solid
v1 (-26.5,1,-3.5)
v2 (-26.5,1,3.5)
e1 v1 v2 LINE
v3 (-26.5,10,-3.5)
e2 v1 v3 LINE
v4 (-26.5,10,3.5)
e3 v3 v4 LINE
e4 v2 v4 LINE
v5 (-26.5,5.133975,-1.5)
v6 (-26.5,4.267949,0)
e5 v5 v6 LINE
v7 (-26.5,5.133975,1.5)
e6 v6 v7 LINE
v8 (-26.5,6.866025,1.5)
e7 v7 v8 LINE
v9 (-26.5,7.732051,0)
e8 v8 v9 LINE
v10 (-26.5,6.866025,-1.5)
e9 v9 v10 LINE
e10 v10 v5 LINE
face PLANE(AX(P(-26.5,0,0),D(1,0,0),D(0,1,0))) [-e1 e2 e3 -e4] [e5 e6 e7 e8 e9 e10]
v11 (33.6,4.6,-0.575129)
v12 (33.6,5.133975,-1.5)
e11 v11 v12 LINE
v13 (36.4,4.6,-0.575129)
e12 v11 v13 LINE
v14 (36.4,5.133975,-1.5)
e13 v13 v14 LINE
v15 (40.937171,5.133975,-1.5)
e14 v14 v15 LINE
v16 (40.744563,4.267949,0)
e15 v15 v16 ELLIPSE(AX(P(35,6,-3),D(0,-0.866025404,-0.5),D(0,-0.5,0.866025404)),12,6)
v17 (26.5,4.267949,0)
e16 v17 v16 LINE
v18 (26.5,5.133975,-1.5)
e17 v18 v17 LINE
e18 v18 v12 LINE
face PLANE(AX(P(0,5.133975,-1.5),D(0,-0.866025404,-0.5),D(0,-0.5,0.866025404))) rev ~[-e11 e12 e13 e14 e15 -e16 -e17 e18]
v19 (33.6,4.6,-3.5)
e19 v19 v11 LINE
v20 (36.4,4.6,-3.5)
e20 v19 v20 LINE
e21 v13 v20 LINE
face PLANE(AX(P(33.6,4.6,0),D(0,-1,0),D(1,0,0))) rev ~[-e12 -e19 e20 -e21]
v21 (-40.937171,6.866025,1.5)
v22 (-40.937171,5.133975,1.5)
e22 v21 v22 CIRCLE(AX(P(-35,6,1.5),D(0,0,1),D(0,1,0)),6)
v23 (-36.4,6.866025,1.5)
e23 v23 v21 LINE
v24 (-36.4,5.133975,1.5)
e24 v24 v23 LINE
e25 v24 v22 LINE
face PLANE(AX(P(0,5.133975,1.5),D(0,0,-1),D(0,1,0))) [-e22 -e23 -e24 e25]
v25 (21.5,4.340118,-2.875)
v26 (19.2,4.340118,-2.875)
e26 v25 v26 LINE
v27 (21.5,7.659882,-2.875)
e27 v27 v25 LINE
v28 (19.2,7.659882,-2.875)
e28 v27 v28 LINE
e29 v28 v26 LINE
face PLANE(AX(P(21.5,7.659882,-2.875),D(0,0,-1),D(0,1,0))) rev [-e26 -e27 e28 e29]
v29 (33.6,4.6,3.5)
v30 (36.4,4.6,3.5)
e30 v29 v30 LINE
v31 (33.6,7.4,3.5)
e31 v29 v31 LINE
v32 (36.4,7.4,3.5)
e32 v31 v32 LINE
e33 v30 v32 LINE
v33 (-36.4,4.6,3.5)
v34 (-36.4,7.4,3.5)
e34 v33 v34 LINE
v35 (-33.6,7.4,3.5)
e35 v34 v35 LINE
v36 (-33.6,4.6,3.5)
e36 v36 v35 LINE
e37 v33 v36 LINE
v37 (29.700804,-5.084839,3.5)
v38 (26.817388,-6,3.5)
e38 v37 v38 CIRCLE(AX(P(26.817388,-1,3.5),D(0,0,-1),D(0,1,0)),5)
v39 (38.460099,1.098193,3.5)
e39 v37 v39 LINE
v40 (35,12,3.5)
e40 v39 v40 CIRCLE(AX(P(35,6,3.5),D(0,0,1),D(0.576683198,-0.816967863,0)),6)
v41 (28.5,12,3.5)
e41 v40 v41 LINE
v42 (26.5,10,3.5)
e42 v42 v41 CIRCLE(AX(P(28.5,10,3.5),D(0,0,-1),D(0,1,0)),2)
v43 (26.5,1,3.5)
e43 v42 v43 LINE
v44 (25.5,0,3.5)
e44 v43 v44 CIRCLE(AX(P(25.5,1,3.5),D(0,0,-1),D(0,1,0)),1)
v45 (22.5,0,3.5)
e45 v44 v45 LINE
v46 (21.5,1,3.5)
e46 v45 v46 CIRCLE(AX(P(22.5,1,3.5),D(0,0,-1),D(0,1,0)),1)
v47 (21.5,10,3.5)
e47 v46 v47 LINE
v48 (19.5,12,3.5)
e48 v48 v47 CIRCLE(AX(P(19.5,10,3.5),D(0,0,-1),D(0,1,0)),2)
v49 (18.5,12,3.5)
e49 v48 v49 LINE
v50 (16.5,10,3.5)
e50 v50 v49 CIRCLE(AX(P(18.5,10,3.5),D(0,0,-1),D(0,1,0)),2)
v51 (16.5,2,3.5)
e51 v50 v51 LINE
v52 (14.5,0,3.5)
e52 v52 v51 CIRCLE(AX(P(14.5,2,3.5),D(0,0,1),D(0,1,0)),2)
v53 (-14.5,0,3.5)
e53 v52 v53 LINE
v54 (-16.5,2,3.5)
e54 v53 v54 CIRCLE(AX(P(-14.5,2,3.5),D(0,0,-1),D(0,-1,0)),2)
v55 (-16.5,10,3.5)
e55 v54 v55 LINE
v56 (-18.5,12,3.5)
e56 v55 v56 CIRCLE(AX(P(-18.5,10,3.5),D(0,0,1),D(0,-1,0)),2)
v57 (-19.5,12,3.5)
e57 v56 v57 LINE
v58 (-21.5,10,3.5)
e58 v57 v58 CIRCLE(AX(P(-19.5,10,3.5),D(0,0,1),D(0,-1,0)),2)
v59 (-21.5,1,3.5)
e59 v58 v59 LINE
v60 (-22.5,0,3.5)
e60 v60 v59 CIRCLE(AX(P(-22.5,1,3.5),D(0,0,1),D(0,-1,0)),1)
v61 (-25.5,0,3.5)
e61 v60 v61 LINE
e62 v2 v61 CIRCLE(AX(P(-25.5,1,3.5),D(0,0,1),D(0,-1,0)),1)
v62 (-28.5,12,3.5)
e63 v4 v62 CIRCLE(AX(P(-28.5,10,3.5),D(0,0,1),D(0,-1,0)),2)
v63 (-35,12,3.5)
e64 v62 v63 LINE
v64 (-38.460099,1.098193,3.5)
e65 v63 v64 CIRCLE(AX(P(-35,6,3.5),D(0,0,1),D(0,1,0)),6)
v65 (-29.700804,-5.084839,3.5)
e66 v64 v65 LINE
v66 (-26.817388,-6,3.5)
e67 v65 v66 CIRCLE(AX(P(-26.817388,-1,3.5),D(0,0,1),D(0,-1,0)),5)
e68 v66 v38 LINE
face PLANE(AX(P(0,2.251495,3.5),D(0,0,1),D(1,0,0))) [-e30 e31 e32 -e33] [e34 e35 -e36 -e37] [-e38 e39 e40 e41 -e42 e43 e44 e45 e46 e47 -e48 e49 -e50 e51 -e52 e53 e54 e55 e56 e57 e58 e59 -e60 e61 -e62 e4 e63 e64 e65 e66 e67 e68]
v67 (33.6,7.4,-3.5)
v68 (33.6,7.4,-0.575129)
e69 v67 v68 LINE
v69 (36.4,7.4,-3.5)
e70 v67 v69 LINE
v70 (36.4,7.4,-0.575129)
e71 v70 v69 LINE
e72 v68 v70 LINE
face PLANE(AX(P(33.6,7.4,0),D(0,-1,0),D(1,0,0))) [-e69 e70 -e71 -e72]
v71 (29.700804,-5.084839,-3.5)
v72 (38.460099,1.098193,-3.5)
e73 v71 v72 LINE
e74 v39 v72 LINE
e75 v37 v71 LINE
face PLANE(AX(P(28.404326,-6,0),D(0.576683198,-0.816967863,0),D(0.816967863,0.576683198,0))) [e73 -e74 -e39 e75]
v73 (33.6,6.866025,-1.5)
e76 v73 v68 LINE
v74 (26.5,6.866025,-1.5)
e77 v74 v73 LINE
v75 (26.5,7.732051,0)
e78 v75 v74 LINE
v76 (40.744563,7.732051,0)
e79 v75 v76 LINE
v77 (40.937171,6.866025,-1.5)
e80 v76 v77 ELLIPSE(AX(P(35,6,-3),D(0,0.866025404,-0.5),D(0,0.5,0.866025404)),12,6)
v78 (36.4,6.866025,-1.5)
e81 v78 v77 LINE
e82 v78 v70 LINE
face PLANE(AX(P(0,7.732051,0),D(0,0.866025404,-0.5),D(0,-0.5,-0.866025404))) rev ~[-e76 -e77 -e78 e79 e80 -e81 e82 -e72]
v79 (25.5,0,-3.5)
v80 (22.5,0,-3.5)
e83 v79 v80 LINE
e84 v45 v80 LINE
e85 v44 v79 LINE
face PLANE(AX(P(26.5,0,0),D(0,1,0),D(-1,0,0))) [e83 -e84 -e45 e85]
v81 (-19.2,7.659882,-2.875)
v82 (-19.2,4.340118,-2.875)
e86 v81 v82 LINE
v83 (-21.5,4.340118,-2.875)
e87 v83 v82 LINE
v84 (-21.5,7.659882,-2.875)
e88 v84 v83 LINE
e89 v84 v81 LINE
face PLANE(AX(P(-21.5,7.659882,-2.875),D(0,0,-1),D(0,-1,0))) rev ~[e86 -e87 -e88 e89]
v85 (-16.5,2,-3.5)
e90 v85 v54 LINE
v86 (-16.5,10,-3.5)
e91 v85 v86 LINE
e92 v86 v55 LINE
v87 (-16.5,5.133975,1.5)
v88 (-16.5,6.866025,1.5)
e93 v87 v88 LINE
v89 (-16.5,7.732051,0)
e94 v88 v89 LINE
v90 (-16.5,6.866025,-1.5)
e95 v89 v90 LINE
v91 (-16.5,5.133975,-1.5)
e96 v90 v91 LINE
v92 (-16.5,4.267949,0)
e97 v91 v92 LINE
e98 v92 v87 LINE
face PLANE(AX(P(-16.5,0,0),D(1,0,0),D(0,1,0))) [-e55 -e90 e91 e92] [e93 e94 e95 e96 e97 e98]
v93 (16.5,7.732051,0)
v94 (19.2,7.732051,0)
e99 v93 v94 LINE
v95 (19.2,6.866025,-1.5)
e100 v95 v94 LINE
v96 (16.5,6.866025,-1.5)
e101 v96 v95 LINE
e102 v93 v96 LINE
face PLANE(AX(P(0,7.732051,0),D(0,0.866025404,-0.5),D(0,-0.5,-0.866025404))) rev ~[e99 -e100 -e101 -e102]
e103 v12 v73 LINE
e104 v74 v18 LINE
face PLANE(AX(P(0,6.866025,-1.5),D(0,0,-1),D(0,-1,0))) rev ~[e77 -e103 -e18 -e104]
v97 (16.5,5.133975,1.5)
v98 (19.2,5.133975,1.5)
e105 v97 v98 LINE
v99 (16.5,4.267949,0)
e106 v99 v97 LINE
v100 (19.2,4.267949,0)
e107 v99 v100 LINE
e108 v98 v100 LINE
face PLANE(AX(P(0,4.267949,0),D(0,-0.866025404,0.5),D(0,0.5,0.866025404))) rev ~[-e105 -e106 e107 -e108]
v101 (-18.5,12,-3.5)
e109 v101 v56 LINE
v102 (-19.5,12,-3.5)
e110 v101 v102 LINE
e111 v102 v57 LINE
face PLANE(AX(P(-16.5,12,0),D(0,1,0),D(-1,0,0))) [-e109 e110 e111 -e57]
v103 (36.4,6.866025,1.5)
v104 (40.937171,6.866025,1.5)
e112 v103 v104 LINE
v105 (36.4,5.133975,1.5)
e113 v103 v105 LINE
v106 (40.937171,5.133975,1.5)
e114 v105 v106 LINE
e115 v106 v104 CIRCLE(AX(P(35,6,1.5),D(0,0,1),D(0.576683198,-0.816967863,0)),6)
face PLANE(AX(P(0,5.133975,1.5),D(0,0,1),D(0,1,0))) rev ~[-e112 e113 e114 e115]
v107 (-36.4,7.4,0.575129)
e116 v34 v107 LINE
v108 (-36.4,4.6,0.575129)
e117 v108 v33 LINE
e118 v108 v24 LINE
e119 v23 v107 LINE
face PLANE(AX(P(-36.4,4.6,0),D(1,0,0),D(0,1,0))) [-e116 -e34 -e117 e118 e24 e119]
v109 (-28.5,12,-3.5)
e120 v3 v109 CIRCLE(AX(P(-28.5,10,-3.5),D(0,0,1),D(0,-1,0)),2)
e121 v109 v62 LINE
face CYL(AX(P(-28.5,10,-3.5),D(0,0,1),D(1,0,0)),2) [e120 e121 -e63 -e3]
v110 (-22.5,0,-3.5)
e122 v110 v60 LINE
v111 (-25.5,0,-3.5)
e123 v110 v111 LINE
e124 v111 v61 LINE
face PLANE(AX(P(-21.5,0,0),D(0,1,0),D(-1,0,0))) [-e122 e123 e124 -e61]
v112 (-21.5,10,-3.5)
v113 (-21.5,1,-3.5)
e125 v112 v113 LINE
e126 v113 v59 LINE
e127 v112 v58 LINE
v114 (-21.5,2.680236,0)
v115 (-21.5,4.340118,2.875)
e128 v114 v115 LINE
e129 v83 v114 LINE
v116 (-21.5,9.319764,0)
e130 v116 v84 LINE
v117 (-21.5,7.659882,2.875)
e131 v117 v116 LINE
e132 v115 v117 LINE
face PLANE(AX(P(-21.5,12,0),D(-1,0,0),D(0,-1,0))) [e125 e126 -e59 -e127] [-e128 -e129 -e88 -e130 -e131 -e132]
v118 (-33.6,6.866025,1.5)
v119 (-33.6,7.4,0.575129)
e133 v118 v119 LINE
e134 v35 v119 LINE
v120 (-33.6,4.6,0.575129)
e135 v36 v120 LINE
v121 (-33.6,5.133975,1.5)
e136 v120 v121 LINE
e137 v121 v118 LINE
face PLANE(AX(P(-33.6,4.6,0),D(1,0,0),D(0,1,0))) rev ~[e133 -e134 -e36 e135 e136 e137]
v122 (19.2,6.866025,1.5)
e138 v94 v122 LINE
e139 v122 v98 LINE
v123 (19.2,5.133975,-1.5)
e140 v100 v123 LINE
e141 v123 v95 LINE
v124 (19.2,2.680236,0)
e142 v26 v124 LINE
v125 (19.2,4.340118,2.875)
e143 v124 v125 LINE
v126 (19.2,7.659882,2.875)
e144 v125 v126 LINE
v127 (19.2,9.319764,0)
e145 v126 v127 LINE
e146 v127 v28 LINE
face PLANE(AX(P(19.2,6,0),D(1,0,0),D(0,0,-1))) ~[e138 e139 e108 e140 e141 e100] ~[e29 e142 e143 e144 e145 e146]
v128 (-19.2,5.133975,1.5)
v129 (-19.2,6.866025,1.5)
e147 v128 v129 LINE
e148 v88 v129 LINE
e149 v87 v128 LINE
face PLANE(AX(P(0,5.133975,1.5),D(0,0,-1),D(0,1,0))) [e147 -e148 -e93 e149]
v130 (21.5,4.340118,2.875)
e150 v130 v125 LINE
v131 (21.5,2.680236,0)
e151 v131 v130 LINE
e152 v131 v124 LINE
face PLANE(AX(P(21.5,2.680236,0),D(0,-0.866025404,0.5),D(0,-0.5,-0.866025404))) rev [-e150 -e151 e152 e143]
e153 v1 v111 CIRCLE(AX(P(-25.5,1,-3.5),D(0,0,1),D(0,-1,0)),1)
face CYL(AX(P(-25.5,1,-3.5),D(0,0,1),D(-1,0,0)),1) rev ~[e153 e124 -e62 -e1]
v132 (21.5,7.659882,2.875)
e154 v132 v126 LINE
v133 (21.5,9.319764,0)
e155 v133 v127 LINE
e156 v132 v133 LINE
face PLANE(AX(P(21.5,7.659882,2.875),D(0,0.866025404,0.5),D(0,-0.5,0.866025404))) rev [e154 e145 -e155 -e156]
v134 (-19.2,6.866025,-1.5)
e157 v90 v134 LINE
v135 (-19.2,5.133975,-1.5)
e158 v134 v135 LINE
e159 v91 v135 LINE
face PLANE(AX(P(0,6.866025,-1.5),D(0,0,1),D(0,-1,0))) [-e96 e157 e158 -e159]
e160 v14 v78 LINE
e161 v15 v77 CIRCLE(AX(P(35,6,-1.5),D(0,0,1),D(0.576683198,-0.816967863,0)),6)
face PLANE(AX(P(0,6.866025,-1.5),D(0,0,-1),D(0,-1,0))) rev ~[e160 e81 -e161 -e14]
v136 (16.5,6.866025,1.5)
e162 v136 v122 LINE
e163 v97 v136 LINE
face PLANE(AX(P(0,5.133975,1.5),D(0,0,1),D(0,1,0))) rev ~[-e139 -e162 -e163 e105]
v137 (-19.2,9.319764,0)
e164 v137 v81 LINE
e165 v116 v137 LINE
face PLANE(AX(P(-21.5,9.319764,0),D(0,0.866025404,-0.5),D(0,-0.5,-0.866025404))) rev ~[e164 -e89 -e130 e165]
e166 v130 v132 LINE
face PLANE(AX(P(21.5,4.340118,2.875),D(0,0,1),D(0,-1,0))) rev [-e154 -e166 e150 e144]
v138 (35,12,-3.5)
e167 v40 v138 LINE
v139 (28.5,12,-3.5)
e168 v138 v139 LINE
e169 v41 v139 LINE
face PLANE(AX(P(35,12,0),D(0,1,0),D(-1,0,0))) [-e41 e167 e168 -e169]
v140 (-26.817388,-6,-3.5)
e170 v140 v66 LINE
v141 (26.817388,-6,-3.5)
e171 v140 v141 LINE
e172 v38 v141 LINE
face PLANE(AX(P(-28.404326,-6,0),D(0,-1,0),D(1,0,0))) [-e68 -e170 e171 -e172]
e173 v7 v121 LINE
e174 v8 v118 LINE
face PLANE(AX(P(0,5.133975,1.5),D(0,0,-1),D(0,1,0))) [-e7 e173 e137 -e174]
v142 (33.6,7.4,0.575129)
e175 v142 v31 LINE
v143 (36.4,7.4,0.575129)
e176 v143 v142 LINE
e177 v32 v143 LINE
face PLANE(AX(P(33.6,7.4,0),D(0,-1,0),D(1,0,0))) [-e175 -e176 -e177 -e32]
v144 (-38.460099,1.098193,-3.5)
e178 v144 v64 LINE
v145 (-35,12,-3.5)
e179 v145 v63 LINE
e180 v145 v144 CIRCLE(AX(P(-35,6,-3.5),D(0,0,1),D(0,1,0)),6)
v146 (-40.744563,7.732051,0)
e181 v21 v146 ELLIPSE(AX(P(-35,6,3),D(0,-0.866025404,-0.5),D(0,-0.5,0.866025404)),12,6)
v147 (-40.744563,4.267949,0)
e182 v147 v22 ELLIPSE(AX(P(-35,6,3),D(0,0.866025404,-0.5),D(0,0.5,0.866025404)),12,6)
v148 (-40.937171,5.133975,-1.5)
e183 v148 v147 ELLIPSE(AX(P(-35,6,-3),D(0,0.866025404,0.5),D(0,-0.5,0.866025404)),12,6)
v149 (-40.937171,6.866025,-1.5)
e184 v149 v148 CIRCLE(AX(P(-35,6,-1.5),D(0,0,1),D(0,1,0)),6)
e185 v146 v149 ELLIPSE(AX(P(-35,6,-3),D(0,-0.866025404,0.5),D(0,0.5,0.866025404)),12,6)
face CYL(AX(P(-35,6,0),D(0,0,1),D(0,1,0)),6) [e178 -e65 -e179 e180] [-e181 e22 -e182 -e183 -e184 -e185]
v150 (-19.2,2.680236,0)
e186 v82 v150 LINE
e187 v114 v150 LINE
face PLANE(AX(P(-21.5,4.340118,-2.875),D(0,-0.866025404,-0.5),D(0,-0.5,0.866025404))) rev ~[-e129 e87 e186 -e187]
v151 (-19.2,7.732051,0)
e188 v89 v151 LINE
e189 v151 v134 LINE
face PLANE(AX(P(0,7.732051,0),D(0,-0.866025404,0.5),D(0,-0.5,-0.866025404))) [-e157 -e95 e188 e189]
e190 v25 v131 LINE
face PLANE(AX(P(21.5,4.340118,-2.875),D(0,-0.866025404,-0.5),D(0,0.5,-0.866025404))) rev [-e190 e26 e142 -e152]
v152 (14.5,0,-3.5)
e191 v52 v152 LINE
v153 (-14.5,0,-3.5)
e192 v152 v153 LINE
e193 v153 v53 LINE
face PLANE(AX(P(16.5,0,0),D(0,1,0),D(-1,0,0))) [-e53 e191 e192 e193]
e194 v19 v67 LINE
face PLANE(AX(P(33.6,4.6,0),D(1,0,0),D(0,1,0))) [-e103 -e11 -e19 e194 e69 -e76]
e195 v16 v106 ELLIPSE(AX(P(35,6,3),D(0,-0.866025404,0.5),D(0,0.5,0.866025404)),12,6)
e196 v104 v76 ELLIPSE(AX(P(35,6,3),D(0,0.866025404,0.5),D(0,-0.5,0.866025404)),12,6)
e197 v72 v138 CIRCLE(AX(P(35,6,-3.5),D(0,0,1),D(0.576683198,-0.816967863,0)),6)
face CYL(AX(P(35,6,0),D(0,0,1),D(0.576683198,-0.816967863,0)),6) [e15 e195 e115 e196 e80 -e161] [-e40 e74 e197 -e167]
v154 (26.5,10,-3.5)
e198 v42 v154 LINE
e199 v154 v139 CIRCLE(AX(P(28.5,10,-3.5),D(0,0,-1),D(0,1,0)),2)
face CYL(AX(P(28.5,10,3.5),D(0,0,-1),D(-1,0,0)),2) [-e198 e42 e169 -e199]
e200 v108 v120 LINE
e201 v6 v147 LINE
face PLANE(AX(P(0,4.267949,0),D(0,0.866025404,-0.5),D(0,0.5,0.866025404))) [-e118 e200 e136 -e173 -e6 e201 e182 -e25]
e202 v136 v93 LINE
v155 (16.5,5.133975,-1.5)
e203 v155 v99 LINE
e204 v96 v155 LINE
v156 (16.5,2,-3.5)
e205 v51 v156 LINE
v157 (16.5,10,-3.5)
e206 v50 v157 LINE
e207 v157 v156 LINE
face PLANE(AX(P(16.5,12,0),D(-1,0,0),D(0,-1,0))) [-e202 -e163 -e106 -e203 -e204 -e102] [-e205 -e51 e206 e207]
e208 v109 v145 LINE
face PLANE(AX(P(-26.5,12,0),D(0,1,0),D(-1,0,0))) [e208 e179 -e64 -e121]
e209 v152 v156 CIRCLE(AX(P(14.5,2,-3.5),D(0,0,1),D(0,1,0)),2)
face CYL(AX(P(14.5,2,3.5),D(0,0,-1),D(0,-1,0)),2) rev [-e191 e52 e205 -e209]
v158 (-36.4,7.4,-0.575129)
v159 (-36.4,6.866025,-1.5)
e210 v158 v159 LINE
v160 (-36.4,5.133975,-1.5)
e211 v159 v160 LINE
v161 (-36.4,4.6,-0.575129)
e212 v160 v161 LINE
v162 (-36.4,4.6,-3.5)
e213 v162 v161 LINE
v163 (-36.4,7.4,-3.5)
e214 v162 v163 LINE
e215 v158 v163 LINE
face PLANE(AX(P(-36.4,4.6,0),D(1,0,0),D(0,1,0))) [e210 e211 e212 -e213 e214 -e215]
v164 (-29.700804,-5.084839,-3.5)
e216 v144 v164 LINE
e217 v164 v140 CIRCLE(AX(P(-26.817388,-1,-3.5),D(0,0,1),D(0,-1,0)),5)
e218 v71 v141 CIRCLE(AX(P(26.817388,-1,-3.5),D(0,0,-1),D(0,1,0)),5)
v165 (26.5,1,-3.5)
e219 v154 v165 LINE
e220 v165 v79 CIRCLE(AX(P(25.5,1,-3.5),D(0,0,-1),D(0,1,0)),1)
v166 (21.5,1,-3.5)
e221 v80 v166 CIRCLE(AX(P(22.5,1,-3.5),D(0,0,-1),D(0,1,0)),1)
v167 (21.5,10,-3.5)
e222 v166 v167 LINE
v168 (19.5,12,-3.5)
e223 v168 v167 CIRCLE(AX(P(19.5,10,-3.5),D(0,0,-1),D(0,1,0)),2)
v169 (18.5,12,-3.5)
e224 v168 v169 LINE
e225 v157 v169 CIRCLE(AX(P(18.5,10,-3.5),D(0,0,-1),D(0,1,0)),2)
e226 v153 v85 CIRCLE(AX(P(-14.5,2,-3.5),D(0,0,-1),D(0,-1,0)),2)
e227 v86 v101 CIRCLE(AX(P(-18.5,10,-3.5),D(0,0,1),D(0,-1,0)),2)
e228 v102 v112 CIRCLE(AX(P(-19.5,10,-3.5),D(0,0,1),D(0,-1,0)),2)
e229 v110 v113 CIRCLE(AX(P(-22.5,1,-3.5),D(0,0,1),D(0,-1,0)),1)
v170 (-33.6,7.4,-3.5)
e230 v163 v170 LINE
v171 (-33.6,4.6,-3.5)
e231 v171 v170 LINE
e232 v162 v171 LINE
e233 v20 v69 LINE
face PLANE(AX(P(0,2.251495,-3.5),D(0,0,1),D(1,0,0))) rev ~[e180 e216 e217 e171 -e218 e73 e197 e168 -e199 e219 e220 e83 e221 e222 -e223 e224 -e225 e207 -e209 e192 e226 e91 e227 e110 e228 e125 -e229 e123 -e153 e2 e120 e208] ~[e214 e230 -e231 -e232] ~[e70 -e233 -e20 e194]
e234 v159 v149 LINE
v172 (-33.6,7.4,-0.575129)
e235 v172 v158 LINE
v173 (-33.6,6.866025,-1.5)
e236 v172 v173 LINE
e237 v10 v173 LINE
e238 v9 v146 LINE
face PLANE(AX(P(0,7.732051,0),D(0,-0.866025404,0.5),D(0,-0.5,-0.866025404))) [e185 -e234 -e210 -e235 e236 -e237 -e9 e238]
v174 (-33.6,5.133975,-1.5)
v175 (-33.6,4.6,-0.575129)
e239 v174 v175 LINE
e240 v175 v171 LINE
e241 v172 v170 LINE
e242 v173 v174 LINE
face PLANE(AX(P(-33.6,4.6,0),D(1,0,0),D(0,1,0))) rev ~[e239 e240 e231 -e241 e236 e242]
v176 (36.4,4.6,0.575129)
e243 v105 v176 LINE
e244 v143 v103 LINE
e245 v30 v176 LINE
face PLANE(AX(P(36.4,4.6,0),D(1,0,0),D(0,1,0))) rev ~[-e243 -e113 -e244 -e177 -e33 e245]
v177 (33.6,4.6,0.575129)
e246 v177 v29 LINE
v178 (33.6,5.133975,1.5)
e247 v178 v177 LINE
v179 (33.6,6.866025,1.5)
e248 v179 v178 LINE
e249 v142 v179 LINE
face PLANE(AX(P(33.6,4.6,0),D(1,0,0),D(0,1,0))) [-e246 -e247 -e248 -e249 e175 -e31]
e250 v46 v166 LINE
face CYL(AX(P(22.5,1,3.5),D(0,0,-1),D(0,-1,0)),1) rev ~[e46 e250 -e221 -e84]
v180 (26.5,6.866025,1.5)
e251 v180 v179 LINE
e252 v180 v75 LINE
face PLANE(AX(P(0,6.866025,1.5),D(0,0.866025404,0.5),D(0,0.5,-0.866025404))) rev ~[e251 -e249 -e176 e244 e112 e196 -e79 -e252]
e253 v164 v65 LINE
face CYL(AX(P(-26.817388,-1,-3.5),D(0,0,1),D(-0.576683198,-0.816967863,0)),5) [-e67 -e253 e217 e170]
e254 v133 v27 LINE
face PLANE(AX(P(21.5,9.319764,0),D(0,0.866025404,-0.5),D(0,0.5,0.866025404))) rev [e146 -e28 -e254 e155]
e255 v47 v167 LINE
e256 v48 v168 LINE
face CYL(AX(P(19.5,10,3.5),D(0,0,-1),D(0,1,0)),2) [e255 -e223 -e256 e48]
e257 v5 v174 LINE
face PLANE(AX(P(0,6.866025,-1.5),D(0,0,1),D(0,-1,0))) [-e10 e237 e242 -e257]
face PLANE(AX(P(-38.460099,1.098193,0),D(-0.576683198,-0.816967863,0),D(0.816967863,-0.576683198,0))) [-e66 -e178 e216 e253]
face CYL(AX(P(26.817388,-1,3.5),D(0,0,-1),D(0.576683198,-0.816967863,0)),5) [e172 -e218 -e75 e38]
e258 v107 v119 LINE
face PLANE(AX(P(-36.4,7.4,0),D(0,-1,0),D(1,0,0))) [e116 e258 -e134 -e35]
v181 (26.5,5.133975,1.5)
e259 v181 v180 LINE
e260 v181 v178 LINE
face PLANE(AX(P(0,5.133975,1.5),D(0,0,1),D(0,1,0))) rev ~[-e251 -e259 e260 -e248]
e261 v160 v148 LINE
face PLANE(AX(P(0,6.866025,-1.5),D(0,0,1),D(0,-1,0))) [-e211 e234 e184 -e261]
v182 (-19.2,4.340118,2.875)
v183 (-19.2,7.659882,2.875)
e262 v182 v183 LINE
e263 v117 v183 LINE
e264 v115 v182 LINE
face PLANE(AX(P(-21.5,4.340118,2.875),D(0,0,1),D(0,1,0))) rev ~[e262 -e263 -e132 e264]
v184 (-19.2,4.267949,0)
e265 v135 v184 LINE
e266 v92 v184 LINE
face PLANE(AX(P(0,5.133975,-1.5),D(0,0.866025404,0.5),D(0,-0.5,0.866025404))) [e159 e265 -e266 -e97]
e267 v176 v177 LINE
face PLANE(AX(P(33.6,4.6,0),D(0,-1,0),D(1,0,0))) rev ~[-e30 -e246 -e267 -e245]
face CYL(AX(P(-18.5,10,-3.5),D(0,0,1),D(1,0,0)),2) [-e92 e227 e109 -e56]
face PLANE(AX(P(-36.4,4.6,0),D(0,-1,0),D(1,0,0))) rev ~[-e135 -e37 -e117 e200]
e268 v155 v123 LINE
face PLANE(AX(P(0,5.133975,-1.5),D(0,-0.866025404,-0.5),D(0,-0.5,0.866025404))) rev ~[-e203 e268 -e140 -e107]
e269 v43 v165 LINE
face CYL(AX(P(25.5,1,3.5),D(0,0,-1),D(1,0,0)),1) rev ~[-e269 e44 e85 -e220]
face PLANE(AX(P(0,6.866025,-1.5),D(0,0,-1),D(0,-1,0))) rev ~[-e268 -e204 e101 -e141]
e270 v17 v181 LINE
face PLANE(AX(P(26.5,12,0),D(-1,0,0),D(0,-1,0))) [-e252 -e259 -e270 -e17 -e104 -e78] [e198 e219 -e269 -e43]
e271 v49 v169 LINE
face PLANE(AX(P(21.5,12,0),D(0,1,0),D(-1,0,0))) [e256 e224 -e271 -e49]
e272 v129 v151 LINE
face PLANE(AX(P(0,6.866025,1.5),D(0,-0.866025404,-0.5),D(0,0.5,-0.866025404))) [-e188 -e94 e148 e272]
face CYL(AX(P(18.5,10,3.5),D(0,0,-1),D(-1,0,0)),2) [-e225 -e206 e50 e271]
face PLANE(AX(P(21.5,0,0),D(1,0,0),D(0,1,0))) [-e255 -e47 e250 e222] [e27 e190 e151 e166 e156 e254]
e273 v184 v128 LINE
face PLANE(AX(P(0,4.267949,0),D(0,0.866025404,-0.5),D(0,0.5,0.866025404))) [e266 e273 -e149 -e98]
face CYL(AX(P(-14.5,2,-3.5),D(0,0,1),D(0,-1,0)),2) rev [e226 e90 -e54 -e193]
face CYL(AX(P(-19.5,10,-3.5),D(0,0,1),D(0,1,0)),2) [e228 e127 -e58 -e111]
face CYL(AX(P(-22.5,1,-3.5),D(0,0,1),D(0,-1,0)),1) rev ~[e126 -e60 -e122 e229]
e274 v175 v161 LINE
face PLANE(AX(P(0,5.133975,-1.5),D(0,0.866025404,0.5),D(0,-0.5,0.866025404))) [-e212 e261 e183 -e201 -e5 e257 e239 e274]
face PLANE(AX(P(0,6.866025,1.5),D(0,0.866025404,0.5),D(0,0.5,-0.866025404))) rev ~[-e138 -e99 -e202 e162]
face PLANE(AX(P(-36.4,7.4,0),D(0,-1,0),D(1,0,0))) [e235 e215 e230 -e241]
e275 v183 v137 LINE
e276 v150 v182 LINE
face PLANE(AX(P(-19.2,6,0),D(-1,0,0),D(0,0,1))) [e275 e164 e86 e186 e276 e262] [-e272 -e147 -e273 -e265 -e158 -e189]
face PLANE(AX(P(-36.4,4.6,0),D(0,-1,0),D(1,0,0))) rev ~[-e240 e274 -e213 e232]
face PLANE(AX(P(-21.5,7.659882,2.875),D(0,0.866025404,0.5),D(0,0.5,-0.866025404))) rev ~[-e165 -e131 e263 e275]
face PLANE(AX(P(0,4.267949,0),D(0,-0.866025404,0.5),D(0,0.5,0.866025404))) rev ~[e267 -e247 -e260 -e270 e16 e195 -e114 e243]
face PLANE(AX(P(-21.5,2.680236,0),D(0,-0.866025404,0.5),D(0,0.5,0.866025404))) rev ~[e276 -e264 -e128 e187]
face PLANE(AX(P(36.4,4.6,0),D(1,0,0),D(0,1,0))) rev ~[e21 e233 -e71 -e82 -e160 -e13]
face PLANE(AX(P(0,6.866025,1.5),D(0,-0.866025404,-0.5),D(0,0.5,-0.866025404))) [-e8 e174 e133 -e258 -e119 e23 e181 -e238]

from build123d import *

# Parameters (mm, degrees)
SKETCH1_W               = 2.8
SKETCH1_H               = 2.8
BOSS_EXTRUDE1_DEPTH     = 3.5
CUT_EXTRUDE1_DEPTH      = 42
CUT_EXTRUDE1_DEPTH_BACK = 42
CUT_EXTRUDE2_DEPTH      = 2.3
FILLET1_R               = 2
FILLET2_R               = 5
FILLET3_R               = 1


with BuildPart() as part:
    # Sketch1 → Boss-Extrude1 (new body, symmetric)
    with BuildSketch(Plane.XY):
        with BuildLine():
            Line((16.5, 0), (-16.5, 0))
            Line((-16.5, 0), (-16.5, 12))
            Line((-16.5, 12), (-21.5, 12))
            Line((-21.5, 12), (-21.5, 0))
            Line((-21.5, 0), (-26.5, 0))
            Line((-26.5, 0), (-26.5, 12))
            Line((-26.5, 12), (-35, 12))
            ThreePointArc((-35, 12), (-40.718865407, 7.81509737), (-38.460099186, 1.09819282))
            Line((-38.460099186, 1.09819282), (-28.404326023, -6))
            Line((-28.404326023, -6), (28.404326023, -6))
            Line((28.404326023, -6), (38.460099186, 1.09819282))
            ThreePointArc((38.460099186, 1.09819282), (40.718865407, 7.81509737), (35, 12))
            Line((35, 12), (26.5, 12))
            Line((26.5, 12), (26.5, 0))
            Line((26.5, 0), (21.5, 0))
            Line((21.5, 0), (21.5, 12))
            Line((21.5, 12), (16.5, 12))
            Line((16.5, 12), (16.5, 0))
        make_face()
        with Locations((35, 6)):
            Rectangle(SKETCH1_W, SKETCH1_H, mode=Mode.SUBTRACT)
        with Locations((-35, 6)):
            Rectangle(SKETCH1_W, SKETCH1_H, mode=Mode.SUBTRACT)
    extrude(amount=BOSS_EXTRUDE1_DEPTH, both=True)

    # Sketch2 → Cut-Extrude1 (cut, two sides)
    with BuildSketch(Plane.ZY) as cut_extrude1_sk:
        Polygon((0, 7.732050808), (-1.5, 6.866025404), (-1.5, 5.133974596), (0, 4.267949192), (1.5, 5.133974596), (1.5, 6.866025404), align=None)
    extrude(amount=CUT_EXTRUDE1_DEPTH, mode=Mode.SUBTRACT)
    extrude(cut_extrude1_sk.sketch, amount=-CUT_EXTRUDE1_DEPTH_BACK, mode=Mode.SUBTRACT)

    # Sketch3 → Cut-Extrude2 (cut)
    with BuildSketch(Plane.ZY.offset(21.5)):
        Polygon((2.875, 7.659882024), (0, 9.319764048), (-2.875, 7.659882024), (-2.875, 4.340117976), (0, 2.680235952), (2.875, 4.340117976), align=None)
    cut_extrude2 = extrude(amount=-CUT_EXTRUDE2_DEPTH, mode=Mode.SUBTRACT)

    # Mirror1: Cut-Extrude2 across plane
    add(cut_extrude2.mirror(Plane(origin=(0, 0, 0), x_dir=(0, 0, 1), z_dir=(1, 0, 0))), mode=Mode.SUBTRACT)

    # Fillet1
    fillet1_edges = [part.edges().sort_by_distance(p)[0] for p in [
        (-16.5, 12, 0),
        (-16.5, 0, 0),
        (16.5, 0, 0),
        (16.5, 12, 0),
        (21.5, 12, 0),
        (26.5, 12, 0),
        (-26.5, 12, 0),
        (-21.5, 12, 0),
    ]]
    fillet(fillet1_edges, radius=FILLET1_R)

    # Fillet2
    fillet2_edges = [part.edges().sort_by_distance(p)[0] for p in [
        (28.404326023, -6, 0),
        (-28.404326023, -6, 0),
    ]]
    fillet(fillet2_edges, radius=FILLET2_R)

    # Fillet3
    fillet3_edges = [part.edges().sort_by_distance(p)[0] for p in [
        (21.5, 0, 0),
        (26.5, 0, 0),
        (-26.5, 0, 0),
        (-21.5, 0, 0),
    ]]
    fillet(fillet3_edges, radius=FILLET3_R)


solid = part.part
